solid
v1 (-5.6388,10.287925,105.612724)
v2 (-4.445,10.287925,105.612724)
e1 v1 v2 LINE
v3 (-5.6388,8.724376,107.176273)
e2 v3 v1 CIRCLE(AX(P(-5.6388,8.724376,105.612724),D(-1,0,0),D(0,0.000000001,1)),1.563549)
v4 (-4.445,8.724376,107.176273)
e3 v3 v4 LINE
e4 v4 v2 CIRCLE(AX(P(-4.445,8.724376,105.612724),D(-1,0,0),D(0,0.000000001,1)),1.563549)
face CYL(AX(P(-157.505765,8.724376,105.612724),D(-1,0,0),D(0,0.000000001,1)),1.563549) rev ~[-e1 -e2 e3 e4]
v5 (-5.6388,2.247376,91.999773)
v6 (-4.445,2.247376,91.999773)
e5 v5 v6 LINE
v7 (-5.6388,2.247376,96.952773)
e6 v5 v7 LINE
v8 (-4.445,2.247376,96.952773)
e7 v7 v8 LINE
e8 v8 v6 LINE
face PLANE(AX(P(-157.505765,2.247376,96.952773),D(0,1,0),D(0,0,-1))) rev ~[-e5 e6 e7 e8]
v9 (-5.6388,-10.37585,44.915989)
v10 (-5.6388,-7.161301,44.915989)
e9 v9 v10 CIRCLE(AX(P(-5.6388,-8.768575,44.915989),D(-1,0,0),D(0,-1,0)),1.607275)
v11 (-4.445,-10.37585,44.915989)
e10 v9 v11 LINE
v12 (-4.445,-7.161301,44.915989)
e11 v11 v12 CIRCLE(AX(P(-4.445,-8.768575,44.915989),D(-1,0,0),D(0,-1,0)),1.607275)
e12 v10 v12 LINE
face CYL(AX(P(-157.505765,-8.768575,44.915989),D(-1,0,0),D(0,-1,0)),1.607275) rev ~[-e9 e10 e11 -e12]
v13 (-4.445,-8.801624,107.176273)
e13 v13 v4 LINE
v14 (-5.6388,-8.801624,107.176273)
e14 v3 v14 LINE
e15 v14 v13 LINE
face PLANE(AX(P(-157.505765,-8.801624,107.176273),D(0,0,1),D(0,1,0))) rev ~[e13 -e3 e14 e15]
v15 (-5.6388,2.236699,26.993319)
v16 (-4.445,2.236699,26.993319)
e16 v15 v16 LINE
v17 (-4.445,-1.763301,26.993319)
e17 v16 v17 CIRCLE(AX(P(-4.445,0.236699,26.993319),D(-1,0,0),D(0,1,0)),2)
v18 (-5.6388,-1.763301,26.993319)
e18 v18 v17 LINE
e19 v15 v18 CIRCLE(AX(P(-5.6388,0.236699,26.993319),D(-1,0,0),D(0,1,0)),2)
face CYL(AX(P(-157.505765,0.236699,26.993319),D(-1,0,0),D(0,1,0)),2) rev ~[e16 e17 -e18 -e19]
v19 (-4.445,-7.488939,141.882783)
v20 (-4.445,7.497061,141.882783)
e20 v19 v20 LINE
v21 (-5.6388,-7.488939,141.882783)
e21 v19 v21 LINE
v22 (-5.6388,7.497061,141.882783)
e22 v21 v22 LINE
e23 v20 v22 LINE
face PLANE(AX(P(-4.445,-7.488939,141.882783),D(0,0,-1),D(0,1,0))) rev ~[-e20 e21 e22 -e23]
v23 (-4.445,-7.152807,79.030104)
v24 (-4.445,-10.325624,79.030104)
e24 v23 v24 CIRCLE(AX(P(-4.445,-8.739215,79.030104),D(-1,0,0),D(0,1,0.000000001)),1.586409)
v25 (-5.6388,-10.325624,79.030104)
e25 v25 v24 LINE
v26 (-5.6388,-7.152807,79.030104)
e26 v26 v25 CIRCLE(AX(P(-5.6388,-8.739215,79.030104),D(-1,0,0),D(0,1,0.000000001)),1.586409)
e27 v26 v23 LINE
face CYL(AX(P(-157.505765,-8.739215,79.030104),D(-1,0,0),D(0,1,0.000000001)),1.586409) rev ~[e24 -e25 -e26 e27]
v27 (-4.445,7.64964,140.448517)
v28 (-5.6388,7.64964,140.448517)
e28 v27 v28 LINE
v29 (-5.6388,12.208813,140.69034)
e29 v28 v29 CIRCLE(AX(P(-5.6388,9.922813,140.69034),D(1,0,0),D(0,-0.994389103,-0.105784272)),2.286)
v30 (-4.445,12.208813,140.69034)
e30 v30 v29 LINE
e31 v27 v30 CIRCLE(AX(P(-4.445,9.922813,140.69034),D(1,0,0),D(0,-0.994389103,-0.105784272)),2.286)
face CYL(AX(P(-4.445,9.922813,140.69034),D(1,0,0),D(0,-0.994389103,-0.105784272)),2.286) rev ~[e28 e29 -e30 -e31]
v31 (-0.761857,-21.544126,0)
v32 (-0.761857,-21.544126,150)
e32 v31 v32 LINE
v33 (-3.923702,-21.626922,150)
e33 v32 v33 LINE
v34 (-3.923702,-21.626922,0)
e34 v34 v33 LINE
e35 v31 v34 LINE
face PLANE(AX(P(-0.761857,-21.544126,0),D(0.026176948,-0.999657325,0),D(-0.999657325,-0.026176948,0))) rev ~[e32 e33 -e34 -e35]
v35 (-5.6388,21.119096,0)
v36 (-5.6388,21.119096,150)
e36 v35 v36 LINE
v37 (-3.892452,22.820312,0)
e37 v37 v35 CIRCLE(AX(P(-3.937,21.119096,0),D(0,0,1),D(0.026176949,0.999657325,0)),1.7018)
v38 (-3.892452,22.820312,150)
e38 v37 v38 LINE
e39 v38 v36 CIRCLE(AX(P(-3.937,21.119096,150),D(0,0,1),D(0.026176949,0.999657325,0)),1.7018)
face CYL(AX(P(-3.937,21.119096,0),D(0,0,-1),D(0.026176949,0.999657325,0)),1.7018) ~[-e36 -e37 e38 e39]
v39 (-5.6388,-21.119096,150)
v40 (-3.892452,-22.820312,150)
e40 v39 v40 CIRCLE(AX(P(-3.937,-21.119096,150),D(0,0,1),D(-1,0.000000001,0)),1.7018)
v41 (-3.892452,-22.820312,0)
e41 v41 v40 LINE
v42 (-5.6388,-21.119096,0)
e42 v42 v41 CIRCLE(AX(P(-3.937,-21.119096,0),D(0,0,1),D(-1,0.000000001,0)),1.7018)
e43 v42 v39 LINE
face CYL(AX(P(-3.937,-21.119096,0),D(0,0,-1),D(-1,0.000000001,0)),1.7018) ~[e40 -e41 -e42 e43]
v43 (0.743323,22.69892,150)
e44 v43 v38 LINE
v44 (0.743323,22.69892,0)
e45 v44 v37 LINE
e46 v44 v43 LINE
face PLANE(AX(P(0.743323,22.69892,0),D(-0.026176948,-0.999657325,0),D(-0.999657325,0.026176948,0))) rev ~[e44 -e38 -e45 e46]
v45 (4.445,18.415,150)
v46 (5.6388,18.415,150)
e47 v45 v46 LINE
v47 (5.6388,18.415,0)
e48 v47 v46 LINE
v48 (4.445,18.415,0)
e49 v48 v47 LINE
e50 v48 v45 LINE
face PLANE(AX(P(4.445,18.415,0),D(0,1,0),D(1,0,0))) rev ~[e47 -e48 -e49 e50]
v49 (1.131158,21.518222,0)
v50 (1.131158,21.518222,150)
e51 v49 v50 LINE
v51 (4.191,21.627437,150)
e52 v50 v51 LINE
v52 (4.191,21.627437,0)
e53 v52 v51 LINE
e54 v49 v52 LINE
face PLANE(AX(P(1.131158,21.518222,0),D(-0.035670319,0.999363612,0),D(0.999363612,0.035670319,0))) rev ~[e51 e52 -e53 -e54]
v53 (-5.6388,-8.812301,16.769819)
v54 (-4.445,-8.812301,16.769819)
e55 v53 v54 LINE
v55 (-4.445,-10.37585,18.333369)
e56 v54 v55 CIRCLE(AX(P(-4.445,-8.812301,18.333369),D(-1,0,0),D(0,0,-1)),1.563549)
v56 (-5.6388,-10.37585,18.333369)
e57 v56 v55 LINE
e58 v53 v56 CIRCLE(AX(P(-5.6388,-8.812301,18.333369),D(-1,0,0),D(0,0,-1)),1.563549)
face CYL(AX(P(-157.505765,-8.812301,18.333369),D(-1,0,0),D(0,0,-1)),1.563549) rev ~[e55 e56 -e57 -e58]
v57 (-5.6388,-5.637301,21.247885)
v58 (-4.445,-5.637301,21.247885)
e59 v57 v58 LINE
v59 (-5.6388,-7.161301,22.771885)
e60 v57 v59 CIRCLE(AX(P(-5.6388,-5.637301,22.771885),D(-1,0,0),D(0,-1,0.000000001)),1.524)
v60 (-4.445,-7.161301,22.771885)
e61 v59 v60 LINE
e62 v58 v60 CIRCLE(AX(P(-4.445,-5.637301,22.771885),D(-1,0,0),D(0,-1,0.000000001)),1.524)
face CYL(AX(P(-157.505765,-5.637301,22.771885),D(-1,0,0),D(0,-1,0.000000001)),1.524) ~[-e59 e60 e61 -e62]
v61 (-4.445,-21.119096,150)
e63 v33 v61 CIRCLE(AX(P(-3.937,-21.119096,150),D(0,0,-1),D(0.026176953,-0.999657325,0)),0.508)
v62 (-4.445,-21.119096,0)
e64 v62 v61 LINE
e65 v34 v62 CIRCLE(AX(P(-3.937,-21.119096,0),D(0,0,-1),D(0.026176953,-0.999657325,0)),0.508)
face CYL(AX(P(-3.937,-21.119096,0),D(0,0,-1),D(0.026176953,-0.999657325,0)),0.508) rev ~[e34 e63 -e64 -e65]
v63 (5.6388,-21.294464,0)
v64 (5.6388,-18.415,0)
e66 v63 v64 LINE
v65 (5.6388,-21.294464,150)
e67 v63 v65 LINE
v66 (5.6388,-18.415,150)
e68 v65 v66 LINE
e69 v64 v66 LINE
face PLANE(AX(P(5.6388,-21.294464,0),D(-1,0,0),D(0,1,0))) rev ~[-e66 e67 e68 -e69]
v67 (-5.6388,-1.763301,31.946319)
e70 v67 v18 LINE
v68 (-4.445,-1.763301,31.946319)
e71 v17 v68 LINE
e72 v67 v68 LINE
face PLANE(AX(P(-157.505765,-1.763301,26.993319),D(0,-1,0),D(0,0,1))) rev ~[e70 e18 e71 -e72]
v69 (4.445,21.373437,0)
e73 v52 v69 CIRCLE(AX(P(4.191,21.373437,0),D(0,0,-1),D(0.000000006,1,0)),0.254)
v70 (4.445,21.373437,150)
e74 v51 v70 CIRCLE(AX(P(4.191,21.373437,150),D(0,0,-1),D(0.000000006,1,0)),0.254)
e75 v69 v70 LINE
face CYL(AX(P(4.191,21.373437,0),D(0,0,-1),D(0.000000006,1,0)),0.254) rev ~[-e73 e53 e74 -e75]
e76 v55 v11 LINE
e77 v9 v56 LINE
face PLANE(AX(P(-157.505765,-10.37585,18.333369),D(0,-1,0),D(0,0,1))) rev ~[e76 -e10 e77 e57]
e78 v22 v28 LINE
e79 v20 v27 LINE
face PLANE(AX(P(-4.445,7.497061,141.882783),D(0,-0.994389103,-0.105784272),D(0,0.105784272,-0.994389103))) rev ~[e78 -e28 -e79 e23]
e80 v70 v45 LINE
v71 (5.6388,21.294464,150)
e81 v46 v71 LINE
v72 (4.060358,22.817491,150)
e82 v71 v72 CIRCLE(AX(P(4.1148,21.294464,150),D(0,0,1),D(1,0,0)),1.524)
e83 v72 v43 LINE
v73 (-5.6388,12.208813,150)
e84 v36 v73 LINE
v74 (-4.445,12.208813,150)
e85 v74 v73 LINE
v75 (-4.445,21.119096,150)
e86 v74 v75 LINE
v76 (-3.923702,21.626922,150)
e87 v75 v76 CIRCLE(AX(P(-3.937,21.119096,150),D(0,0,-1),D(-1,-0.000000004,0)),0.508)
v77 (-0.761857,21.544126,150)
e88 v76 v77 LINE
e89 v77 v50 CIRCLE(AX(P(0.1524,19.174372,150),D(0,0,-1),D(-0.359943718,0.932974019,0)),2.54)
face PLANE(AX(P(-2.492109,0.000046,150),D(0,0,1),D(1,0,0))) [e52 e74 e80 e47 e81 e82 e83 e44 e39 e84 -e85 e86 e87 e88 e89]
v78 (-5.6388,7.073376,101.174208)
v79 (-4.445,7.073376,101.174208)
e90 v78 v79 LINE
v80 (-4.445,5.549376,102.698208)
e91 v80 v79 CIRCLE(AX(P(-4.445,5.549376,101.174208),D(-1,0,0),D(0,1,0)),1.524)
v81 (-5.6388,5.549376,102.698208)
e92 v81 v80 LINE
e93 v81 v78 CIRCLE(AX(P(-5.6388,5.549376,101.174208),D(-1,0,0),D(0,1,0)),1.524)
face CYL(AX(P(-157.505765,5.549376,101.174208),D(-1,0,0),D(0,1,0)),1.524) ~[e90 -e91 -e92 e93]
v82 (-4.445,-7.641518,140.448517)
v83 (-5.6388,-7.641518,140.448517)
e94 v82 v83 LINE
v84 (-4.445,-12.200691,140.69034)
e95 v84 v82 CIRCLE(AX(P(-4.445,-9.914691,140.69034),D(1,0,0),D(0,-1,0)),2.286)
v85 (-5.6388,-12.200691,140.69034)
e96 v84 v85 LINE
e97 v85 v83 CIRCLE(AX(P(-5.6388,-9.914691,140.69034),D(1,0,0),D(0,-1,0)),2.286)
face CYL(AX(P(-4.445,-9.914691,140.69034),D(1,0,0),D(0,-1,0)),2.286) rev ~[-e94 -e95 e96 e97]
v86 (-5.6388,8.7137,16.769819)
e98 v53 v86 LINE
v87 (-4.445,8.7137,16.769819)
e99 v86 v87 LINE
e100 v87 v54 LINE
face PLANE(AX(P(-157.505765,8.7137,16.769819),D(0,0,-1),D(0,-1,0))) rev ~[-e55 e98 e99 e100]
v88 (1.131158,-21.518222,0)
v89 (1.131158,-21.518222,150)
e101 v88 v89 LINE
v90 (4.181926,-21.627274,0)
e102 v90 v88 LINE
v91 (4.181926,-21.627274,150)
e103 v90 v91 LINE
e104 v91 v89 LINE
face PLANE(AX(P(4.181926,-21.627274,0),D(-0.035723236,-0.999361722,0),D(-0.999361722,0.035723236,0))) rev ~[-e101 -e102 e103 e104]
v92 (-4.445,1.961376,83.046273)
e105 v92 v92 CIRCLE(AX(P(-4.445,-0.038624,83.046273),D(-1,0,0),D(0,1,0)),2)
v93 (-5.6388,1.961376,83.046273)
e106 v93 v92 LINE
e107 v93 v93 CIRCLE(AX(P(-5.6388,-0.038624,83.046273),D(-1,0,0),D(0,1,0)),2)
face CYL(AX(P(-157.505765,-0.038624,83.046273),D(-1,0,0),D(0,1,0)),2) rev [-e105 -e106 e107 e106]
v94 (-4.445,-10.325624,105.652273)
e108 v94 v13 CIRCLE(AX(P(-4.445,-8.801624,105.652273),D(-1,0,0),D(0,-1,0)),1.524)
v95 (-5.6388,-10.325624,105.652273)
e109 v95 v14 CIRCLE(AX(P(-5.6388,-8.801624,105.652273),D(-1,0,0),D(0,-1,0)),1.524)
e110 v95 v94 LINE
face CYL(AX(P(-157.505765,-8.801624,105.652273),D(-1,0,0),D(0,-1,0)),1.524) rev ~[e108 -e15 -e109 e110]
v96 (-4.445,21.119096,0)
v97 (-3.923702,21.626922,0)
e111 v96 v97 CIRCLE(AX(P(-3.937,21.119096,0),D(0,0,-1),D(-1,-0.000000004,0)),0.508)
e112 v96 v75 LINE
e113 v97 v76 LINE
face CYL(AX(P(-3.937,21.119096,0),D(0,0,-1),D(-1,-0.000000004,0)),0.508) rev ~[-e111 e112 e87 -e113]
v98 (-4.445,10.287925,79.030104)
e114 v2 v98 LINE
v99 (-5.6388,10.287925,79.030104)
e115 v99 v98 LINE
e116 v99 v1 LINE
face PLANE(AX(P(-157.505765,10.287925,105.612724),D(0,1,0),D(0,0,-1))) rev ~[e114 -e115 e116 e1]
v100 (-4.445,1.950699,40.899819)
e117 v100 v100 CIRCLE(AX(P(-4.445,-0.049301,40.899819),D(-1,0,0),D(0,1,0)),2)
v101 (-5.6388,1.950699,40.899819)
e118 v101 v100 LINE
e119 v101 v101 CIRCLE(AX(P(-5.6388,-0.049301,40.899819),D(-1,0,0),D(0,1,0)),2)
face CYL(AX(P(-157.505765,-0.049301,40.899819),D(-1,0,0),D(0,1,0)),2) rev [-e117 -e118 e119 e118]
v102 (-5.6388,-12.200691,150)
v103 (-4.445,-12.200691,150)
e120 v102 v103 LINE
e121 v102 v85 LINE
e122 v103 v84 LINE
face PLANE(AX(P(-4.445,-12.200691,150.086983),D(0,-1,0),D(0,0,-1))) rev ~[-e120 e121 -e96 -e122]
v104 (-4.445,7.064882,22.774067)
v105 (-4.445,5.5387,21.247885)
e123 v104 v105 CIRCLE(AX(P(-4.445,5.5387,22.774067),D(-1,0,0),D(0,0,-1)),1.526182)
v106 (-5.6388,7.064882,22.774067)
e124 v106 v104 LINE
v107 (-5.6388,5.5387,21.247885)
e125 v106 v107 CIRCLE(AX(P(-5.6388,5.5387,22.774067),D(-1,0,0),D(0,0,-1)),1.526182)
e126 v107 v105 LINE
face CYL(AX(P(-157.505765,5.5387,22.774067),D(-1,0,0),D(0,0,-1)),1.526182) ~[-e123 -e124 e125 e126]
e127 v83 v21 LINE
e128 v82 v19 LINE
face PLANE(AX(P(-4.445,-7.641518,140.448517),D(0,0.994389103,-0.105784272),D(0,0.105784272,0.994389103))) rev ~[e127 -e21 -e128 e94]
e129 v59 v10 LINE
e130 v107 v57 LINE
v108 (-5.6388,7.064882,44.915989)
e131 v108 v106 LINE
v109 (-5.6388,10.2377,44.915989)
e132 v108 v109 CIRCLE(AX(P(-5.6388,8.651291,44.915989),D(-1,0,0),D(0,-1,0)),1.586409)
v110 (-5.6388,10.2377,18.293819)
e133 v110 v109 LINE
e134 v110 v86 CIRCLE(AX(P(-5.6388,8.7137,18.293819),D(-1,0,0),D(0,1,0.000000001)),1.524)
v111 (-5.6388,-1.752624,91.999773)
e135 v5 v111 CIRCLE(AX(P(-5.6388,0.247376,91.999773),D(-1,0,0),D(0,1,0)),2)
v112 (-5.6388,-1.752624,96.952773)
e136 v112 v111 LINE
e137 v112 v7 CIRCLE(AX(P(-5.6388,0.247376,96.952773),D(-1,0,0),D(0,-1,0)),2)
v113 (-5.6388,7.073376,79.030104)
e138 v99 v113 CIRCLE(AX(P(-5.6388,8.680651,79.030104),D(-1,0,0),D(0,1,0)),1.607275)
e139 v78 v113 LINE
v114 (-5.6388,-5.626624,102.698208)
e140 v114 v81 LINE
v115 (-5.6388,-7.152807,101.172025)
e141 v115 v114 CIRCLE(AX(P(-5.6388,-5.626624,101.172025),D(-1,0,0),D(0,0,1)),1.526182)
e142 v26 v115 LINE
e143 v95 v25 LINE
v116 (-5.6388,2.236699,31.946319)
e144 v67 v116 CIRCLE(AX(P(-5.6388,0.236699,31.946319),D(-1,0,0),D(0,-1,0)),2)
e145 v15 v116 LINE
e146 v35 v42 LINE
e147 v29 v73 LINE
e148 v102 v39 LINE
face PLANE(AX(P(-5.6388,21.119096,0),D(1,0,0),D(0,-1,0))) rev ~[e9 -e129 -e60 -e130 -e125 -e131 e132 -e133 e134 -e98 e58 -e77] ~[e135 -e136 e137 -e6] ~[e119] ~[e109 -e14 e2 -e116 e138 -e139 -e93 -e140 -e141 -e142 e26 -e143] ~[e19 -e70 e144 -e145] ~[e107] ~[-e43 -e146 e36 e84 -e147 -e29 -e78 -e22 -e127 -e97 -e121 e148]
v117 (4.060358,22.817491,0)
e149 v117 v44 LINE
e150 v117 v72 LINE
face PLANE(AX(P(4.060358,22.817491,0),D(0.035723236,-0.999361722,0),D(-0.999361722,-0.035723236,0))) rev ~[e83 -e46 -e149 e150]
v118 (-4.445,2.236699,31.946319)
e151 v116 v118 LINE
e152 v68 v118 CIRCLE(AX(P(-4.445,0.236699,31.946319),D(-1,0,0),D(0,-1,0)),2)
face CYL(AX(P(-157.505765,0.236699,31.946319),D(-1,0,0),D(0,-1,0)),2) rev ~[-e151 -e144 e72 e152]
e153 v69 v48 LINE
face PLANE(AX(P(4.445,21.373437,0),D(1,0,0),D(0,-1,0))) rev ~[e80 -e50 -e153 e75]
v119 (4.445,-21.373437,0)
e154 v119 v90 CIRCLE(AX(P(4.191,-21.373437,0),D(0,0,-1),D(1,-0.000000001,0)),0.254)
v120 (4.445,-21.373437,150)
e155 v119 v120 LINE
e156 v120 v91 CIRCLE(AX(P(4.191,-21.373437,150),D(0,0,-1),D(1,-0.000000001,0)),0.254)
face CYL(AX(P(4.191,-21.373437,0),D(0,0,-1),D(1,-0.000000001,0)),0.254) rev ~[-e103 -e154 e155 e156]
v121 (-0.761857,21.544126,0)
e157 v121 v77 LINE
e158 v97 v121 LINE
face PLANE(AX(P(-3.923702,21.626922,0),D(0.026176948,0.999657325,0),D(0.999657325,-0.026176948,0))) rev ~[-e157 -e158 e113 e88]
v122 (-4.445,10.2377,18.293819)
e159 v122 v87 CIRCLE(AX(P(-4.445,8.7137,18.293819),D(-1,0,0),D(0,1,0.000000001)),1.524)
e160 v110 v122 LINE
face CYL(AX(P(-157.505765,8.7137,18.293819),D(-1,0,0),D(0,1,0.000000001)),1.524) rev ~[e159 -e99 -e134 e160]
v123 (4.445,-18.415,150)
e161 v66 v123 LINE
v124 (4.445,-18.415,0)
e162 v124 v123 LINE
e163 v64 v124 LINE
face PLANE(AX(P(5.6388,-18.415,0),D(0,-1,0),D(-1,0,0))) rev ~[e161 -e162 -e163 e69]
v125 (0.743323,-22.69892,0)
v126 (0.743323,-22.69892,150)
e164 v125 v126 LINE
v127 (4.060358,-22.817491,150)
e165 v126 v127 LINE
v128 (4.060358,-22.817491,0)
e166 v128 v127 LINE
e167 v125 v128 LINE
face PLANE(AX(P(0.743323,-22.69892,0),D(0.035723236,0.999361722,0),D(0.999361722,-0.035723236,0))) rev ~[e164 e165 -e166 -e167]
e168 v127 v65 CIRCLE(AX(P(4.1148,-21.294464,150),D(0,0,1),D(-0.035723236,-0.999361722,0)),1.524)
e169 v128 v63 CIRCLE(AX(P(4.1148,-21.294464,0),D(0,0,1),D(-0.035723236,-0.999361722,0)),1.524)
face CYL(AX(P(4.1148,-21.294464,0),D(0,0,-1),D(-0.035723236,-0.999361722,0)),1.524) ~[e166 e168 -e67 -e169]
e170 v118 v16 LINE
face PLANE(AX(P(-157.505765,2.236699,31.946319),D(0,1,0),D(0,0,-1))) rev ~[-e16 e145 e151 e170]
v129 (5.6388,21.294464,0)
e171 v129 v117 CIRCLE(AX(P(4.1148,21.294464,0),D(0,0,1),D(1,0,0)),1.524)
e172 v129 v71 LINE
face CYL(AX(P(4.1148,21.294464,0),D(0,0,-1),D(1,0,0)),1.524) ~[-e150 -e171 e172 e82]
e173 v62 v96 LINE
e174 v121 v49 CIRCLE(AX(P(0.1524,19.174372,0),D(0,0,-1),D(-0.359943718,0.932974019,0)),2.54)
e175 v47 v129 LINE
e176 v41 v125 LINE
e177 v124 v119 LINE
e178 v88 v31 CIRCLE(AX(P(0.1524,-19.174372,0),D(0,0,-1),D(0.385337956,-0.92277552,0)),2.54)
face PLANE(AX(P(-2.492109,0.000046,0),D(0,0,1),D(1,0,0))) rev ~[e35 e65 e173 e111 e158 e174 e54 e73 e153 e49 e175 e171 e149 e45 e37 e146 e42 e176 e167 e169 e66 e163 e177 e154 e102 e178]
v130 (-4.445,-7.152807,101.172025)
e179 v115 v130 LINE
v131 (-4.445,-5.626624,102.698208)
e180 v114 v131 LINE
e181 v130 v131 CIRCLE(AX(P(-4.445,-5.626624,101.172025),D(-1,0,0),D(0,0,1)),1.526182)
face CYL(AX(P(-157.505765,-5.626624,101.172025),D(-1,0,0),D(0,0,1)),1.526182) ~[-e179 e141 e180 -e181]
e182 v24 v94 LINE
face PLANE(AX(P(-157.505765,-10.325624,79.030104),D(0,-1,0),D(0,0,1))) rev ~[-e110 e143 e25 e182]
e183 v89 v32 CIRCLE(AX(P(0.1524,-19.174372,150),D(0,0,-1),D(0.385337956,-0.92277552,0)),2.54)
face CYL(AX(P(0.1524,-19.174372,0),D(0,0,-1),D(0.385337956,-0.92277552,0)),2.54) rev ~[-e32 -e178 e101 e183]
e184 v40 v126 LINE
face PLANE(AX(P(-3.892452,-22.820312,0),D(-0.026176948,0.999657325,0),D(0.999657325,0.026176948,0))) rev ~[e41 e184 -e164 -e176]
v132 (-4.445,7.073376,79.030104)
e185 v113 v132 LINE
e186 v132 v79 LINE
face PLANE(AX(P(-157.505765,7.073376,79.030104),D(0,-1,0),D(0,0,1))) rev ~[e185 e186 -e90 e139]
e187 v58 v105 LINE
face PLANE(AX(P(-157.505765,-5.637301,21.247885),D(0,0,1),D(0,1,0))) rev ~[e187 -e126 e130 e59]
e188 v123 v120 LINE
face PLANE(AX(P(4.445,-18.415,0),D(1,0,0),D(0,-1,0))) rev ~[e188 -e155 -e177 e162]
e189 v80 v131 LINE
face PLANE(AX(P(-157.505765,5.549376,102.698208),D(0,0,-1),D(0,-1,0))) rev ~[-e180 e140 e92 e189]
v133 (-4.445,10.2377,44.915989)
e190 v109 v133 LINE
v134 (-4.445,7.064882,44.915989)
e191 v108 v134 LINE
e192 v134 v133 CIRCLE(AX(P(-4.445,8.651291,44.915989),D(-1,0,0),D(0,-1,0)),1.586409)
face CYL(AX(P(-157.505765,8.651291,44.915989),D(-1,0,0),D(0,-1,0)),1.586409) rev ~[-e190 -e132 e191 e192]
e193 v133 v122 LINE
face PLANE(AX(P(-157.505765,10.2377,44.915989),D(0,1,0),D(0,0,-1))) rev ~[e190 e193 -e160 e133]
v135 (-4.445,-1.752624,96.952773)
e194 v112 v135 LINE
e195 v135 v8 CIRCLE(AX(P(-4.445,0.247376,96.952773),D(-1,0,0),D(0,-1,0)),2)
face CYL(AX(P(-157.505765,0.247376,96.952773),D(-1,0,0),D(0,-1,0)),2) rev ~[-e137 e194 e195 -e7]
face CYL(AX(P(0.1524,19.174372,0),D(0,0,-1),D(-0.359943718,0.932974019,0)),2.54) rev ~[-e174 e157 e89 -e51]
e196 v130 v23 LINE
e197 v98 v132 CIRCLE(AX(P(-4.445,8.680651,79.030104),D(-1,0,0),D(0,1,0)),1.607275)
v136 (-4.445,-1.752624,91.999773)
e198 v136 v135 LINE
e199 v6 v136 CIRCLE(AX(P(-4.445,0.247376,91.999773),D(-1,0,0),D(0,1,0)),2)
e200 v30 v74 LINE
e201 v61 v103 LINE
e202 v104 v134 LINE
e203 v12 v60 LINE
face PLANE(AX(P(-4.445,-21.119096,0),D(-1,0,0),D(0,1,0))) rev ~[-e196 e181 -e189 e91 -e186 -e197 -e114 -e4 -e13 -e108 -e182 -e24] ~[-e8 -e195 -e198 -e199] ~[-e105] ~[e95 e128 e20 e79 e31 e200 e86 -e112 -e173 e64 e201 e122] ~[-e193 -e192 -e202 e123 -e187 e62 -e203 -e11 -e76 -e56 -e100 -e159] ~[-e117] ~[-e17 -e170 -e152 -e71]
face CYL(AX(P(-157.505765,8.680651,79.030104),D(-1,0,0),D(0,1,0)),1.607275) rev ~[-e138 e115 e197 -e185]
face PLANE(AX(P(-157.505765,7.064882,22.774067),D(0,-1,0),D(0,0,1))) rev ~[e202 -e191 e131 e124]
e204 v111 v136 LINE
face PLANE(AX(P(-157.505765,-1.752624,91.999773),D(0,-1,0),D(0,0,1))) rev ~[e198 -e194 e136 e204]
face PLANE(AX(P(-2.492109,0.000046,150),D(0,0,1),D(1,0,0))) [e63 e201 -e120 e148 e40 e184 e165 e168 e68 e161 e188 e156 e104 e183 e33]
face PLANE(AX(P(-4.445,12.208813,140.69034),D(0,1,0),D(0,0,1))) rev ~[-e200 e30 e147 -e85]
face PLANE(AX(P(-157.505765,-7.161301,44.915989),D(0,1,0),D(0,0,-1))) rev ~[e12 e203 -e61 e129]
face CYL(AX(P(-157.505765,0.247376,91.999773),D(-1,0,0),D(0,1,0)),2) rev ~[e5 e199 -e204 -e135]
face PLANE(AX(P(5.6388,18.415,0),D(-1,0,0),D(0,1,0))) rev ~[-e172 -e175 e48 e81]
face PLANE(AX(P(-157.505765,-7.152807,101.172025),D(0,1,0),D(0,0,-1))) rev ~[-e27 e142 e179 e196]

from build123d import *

# Parameters (mm, degrees)
BOSS_EXTRUDE1_DEPTH     = 150
CUT_EXTRUDE5_DEPTH      = 153.060765161
CUT_EXTRUDE6_DEPTH      = 153.060765161
CUT_EXTRUDE6_DEPTH_BACK = 153.060765161
SKETCH3_R               = 2
CUT_EXTRUDE7_DEPTH      = 153.060765161
CUT_EXTRUDE7_DEPTH_BACK = 153.060765161
SKETCH6_R               = 2


with BuildPart() as part:
    # Sketch1 → Boss-Extrude1 (new body)
    with BuildSketch(Plane.XY):
        with BuildLine():
            Line((4.445, 18.415), (5.6388, 18.415))
            Line((5.6388, 18.415), (5.6388, 21.294464083))
            ThreePointArc((5.6388, 21.294464083), (5.173007463, 22.391174147), (4.060357789, 22.817491346))
            Line((4.060357789, 22.817491346), (0.743323143, 22.698920454))
            Line((0.743323143, 22.698920454), (-3.892452069, 22.8203125))
            ThreePointArc((-3.892452069, 22.8203125), (-5.124499805, 22.338098312), (-5.6388, 21.119095664))
            Line((-5.6388, 21.119095664), (-5.6388, -21.119095664))
            ThreePointArc((-5.6388, -21.119095664), (-5.124499805, -22.338098312), (-3.892452069, -22.8203125))
            Line((-3.892452069, -22.8203125), (0.743323143, -22.698920454))
            Line((0.743323143, -22.698920454), (4.060357789, -22.817491346))
            ThreePointArc((4.060357789, -22.817491346), (5.173007463, -22.391174147), (5.6388, -21.294464083))
            Line((5.6388, -21.294464083), (5.6388, -18.415))
            Line((5.6388, -18.415), (4.445, -18.415))
            Line((4.445, -18.415), (4.445, -21.3734366))
            ThreePointArc((4.445, -21.3734366), (4.367367911, -21.55622161), (4.181926298, -21.627274477))
            Line((4.181926298, -21.627274477), (1.131158407, -21.51822157))
            ThreePointArc((1.131158407, -21.51822157), (0.187154328, -21.71413397), (-0.761857041, -21.544125758))
            Line((-0.761857041, -21.544125758), (-3.92370211, -21.626921585))
            ThreePointArc((-3.92370211, -21.626921585), (-4.291477554, -21.482977052), (-4.445, -21.119095664))
            Line((-4.445, -21.119095664), (-4.445, 21.119095664))
            ThreePointArc((-4.445, 21.119095664), (-4.291477554, 21.482977052), (-3.92370211, 21.626921585))
            Line((-3.92370211, 21.626921585), (-0.761857041, 21.544125758))
            ThreePointArc((-0.761857041, 21.544125758), (0.187154328, 21.71413397), (1.131158407, 21.51822157))
            Line((1.131158407, 21.51822157), (4.191, 21.6274366))
            ThreePointArc((4.191, 21.6274366), (4.370605122, 21.553041722), (4.445, 21.3734366))
            Line((4.445, 21.3734366), (4.445, 18.415))
        make_face()
    extrude(amount=BOSS_EXTRUDE1_DEPTH)

    # Sketch2 → Cut-Extrude5 (cut, through all)
    with BuildSketch(Plane(origin=(-4.445, 0, 0), x_dir=(0, 0, -1), z_dir=(1, 0, 0))):
        with BuildLine():
            Line((-150.086983229, 12.208813289), (-150.086983229, -12.200691478))
            Line((-150.086983229, -12.200691478), (-140.690340072, -12.200691478))
            ThreePointArc((-140.690340072, -12.200691478), (-138.407548952, -10.035772864), (-140.448517226, -7.641517989))
            Line((-140.448517226, -7.641517989), (-141.882783229, -7.4889391))
            Line((-141.882783229, -7.4889391), (-141.882783229, 7.497060911))
            Line((-141.882783229, 7.497060911), (-140.448517226, 7.6496398))
            ThreePointArc((-140.448517226, 7.6496398), (-138.407548952, 10.043894675), (-140.690340072, 12.208813289))
            Line((-140.690340072, 12.208813289), (-150.086983229, 12.208813289))
        make_face()
    extrude(amount=-CUT_EXTRUDE5_DEPTH, mode=Mode.SUBTRACT)

    # Sketch3 → Cut-Extrude6 (cut, two sides: drawn at the far end of the back side and taken through both)
    with BuildSketch(Plane(origin=(-4.445, 0, 0), x_dir=(0, 0, -1), z_dir=(1, 0, 0)).offset(-CUT_EXTRUDE6_DEPTH_BACK)):
        with Locations(Location((-83.046273188, -0.038624064, 0), (0, 0, 90))):
            Circle(SKETCH3_R)
        with BuildLine():
            Line((-105.612723982, 10.28792521), (-79.030103641, 10.28792521))
            ThreePointArc((-79.030103641, 10.28792521), (-77.422829038, 8.680650607), (-79.030103641, 7.073376004))
            Line((-79.030103641, 7.073376004), (-101.174207902, 7.073376004))
            ThreePointArc((-101.174207902, 7.073376004), (-102.251838636, 6.627006739), (-102.698207902, 5.549376004))
            Line((-102.698207902, 5.549376004), (-102.698207902, -5.626624133))
            ThreePointArc((-102.698207902, -5.626624133), (-102.251199404, -6.70579811), (-101.172025428, -7.152806607))
            Line((-101.172025428, -7.152806607), (-79.030103641, -7.152806607))
            ThreePointArc((-79.030103641, -7.152806607), (-77.443694877, -8.73921537), (-79.030103641, -10.325624133))
            Line((-79.030103641, -10.325624133), (-105.652273188, -10.325624133))
            ThreePointArc((-105.652273188, -10.325624133), (-106.729903922, -9.879254868), (-107.176273188, -8.801624133))
            Line((-107.176273188, -8.801624133), (-107.176273188, 8.724376004))
            ThreePointArc((-107.176273188, 8.724376004), (-106.718320228, 9.82997225), (-105.612723982, 10.28792521))
        make_face()
        with BuildLine():
            Line((-96.952773188, 2.247375936), (-91.999773188, 2.247375936))
            ThreePointArc((-91.999773188, 2.247375936), (-89.999773188, 0.247375936), (-91.999773188, -1.752624064))
            Line((-91.999773188, -1.752624064), (-96.952773188, -1.752624064))
            ThreePointArc((-96.952773188, -1.752624064), (-98.952773188, 0.247375936), (-96.952773188, 2.247375936))
        make_face()
    extrude(amount=CUT_EXTRUDE6_DEPTH + CUT_EXTRUDE6_DEPTH_BACK, mode=Mode.SUBTRACT)

    # Sketch6 → Cut-Extrude7 (cut, two sides: drawn at the far end of the back side and taken through both)
    with BuildSketch(Plane(origin=(-4.445, 0, 0), x_dir=(0, 0, -1), z_dir=(1, 0, 0)).offset(-CUT_EXTRUDE7_DEPTH_BACK)):
        with Locations(Location((-40.899819498, -0.049300509, 0), (0, 0, 90))):
            Circle(SKETCH6_R)
        with BuildLine():
            Line((-18.333368704, -10.375849783), (-44.915989045, -10.375849783))
            ThreePointArc((-44.915989045, -10.375849783), (-46.523263648, -8.76857518), (-44.915989045, -7.161300577))
            Line((-44.915989045, -7.161300577), (-22.771884784, -7.161300577))
            ThreePointArc((-22.771884784, -7.161300577), (-21.694254049, -6.714931312), (-21.247884784, -5.637300577))
            Line((-21.247884784, -5.637300577), (-21.247884784, 5.53869956))
            ThreePointArc((-21.247884784, 5.53869956), (-21.694893281, 6.617873536), (-22.774067257, 7.064882034))
            Line((-22.774067257, 7.064882034), (-44.915989045, 7.064882034))
            ThreePointArc((-44.915989045, 7.064882034), (-46.502397808, 8.651290797), (-44.915989045, 10.23769956))
            Line((-44.915989045, 10.23769956), (-18.293819498, 10.23769956))
            ThreePointArc((-18.293819498, 10.23769956), (-17.216188763, 9.791330295), (-16.769819498, 8.71369956))
            Line((-16.769819498, 8.71369956), (-16.769819498, -8.812300577))
            ThreePointArc((-16.769819498, -8.812300577), (-17.227772458, -9.917896824), (-18.333368704, -10.375849783))
        make_face()
        with BuildLine():
            Line((-26.993319498, -1.763300509), (-31.946319498, -1.763300509))
            ThreePointArc((-31.946319498, -1.763300509), (-33.946319498, 0.236699491), (-31.946319498, 2.236699491))
            Line((-31.946319498, 2.236699491), (-26.993319498, 2.236699491))
            ThreePointArc((-26.993319498, 2.236699491), (-24.993319498, 0.236699491), (-26.993319498, -1.763300509))
        make_face()
    extrude(amount=CUT_EXTRUDE7_DEPTH + CUT_EXTRUDE7_DEPTH_BACK, mode=Mode.SUBTRACT)


solid = part.part
